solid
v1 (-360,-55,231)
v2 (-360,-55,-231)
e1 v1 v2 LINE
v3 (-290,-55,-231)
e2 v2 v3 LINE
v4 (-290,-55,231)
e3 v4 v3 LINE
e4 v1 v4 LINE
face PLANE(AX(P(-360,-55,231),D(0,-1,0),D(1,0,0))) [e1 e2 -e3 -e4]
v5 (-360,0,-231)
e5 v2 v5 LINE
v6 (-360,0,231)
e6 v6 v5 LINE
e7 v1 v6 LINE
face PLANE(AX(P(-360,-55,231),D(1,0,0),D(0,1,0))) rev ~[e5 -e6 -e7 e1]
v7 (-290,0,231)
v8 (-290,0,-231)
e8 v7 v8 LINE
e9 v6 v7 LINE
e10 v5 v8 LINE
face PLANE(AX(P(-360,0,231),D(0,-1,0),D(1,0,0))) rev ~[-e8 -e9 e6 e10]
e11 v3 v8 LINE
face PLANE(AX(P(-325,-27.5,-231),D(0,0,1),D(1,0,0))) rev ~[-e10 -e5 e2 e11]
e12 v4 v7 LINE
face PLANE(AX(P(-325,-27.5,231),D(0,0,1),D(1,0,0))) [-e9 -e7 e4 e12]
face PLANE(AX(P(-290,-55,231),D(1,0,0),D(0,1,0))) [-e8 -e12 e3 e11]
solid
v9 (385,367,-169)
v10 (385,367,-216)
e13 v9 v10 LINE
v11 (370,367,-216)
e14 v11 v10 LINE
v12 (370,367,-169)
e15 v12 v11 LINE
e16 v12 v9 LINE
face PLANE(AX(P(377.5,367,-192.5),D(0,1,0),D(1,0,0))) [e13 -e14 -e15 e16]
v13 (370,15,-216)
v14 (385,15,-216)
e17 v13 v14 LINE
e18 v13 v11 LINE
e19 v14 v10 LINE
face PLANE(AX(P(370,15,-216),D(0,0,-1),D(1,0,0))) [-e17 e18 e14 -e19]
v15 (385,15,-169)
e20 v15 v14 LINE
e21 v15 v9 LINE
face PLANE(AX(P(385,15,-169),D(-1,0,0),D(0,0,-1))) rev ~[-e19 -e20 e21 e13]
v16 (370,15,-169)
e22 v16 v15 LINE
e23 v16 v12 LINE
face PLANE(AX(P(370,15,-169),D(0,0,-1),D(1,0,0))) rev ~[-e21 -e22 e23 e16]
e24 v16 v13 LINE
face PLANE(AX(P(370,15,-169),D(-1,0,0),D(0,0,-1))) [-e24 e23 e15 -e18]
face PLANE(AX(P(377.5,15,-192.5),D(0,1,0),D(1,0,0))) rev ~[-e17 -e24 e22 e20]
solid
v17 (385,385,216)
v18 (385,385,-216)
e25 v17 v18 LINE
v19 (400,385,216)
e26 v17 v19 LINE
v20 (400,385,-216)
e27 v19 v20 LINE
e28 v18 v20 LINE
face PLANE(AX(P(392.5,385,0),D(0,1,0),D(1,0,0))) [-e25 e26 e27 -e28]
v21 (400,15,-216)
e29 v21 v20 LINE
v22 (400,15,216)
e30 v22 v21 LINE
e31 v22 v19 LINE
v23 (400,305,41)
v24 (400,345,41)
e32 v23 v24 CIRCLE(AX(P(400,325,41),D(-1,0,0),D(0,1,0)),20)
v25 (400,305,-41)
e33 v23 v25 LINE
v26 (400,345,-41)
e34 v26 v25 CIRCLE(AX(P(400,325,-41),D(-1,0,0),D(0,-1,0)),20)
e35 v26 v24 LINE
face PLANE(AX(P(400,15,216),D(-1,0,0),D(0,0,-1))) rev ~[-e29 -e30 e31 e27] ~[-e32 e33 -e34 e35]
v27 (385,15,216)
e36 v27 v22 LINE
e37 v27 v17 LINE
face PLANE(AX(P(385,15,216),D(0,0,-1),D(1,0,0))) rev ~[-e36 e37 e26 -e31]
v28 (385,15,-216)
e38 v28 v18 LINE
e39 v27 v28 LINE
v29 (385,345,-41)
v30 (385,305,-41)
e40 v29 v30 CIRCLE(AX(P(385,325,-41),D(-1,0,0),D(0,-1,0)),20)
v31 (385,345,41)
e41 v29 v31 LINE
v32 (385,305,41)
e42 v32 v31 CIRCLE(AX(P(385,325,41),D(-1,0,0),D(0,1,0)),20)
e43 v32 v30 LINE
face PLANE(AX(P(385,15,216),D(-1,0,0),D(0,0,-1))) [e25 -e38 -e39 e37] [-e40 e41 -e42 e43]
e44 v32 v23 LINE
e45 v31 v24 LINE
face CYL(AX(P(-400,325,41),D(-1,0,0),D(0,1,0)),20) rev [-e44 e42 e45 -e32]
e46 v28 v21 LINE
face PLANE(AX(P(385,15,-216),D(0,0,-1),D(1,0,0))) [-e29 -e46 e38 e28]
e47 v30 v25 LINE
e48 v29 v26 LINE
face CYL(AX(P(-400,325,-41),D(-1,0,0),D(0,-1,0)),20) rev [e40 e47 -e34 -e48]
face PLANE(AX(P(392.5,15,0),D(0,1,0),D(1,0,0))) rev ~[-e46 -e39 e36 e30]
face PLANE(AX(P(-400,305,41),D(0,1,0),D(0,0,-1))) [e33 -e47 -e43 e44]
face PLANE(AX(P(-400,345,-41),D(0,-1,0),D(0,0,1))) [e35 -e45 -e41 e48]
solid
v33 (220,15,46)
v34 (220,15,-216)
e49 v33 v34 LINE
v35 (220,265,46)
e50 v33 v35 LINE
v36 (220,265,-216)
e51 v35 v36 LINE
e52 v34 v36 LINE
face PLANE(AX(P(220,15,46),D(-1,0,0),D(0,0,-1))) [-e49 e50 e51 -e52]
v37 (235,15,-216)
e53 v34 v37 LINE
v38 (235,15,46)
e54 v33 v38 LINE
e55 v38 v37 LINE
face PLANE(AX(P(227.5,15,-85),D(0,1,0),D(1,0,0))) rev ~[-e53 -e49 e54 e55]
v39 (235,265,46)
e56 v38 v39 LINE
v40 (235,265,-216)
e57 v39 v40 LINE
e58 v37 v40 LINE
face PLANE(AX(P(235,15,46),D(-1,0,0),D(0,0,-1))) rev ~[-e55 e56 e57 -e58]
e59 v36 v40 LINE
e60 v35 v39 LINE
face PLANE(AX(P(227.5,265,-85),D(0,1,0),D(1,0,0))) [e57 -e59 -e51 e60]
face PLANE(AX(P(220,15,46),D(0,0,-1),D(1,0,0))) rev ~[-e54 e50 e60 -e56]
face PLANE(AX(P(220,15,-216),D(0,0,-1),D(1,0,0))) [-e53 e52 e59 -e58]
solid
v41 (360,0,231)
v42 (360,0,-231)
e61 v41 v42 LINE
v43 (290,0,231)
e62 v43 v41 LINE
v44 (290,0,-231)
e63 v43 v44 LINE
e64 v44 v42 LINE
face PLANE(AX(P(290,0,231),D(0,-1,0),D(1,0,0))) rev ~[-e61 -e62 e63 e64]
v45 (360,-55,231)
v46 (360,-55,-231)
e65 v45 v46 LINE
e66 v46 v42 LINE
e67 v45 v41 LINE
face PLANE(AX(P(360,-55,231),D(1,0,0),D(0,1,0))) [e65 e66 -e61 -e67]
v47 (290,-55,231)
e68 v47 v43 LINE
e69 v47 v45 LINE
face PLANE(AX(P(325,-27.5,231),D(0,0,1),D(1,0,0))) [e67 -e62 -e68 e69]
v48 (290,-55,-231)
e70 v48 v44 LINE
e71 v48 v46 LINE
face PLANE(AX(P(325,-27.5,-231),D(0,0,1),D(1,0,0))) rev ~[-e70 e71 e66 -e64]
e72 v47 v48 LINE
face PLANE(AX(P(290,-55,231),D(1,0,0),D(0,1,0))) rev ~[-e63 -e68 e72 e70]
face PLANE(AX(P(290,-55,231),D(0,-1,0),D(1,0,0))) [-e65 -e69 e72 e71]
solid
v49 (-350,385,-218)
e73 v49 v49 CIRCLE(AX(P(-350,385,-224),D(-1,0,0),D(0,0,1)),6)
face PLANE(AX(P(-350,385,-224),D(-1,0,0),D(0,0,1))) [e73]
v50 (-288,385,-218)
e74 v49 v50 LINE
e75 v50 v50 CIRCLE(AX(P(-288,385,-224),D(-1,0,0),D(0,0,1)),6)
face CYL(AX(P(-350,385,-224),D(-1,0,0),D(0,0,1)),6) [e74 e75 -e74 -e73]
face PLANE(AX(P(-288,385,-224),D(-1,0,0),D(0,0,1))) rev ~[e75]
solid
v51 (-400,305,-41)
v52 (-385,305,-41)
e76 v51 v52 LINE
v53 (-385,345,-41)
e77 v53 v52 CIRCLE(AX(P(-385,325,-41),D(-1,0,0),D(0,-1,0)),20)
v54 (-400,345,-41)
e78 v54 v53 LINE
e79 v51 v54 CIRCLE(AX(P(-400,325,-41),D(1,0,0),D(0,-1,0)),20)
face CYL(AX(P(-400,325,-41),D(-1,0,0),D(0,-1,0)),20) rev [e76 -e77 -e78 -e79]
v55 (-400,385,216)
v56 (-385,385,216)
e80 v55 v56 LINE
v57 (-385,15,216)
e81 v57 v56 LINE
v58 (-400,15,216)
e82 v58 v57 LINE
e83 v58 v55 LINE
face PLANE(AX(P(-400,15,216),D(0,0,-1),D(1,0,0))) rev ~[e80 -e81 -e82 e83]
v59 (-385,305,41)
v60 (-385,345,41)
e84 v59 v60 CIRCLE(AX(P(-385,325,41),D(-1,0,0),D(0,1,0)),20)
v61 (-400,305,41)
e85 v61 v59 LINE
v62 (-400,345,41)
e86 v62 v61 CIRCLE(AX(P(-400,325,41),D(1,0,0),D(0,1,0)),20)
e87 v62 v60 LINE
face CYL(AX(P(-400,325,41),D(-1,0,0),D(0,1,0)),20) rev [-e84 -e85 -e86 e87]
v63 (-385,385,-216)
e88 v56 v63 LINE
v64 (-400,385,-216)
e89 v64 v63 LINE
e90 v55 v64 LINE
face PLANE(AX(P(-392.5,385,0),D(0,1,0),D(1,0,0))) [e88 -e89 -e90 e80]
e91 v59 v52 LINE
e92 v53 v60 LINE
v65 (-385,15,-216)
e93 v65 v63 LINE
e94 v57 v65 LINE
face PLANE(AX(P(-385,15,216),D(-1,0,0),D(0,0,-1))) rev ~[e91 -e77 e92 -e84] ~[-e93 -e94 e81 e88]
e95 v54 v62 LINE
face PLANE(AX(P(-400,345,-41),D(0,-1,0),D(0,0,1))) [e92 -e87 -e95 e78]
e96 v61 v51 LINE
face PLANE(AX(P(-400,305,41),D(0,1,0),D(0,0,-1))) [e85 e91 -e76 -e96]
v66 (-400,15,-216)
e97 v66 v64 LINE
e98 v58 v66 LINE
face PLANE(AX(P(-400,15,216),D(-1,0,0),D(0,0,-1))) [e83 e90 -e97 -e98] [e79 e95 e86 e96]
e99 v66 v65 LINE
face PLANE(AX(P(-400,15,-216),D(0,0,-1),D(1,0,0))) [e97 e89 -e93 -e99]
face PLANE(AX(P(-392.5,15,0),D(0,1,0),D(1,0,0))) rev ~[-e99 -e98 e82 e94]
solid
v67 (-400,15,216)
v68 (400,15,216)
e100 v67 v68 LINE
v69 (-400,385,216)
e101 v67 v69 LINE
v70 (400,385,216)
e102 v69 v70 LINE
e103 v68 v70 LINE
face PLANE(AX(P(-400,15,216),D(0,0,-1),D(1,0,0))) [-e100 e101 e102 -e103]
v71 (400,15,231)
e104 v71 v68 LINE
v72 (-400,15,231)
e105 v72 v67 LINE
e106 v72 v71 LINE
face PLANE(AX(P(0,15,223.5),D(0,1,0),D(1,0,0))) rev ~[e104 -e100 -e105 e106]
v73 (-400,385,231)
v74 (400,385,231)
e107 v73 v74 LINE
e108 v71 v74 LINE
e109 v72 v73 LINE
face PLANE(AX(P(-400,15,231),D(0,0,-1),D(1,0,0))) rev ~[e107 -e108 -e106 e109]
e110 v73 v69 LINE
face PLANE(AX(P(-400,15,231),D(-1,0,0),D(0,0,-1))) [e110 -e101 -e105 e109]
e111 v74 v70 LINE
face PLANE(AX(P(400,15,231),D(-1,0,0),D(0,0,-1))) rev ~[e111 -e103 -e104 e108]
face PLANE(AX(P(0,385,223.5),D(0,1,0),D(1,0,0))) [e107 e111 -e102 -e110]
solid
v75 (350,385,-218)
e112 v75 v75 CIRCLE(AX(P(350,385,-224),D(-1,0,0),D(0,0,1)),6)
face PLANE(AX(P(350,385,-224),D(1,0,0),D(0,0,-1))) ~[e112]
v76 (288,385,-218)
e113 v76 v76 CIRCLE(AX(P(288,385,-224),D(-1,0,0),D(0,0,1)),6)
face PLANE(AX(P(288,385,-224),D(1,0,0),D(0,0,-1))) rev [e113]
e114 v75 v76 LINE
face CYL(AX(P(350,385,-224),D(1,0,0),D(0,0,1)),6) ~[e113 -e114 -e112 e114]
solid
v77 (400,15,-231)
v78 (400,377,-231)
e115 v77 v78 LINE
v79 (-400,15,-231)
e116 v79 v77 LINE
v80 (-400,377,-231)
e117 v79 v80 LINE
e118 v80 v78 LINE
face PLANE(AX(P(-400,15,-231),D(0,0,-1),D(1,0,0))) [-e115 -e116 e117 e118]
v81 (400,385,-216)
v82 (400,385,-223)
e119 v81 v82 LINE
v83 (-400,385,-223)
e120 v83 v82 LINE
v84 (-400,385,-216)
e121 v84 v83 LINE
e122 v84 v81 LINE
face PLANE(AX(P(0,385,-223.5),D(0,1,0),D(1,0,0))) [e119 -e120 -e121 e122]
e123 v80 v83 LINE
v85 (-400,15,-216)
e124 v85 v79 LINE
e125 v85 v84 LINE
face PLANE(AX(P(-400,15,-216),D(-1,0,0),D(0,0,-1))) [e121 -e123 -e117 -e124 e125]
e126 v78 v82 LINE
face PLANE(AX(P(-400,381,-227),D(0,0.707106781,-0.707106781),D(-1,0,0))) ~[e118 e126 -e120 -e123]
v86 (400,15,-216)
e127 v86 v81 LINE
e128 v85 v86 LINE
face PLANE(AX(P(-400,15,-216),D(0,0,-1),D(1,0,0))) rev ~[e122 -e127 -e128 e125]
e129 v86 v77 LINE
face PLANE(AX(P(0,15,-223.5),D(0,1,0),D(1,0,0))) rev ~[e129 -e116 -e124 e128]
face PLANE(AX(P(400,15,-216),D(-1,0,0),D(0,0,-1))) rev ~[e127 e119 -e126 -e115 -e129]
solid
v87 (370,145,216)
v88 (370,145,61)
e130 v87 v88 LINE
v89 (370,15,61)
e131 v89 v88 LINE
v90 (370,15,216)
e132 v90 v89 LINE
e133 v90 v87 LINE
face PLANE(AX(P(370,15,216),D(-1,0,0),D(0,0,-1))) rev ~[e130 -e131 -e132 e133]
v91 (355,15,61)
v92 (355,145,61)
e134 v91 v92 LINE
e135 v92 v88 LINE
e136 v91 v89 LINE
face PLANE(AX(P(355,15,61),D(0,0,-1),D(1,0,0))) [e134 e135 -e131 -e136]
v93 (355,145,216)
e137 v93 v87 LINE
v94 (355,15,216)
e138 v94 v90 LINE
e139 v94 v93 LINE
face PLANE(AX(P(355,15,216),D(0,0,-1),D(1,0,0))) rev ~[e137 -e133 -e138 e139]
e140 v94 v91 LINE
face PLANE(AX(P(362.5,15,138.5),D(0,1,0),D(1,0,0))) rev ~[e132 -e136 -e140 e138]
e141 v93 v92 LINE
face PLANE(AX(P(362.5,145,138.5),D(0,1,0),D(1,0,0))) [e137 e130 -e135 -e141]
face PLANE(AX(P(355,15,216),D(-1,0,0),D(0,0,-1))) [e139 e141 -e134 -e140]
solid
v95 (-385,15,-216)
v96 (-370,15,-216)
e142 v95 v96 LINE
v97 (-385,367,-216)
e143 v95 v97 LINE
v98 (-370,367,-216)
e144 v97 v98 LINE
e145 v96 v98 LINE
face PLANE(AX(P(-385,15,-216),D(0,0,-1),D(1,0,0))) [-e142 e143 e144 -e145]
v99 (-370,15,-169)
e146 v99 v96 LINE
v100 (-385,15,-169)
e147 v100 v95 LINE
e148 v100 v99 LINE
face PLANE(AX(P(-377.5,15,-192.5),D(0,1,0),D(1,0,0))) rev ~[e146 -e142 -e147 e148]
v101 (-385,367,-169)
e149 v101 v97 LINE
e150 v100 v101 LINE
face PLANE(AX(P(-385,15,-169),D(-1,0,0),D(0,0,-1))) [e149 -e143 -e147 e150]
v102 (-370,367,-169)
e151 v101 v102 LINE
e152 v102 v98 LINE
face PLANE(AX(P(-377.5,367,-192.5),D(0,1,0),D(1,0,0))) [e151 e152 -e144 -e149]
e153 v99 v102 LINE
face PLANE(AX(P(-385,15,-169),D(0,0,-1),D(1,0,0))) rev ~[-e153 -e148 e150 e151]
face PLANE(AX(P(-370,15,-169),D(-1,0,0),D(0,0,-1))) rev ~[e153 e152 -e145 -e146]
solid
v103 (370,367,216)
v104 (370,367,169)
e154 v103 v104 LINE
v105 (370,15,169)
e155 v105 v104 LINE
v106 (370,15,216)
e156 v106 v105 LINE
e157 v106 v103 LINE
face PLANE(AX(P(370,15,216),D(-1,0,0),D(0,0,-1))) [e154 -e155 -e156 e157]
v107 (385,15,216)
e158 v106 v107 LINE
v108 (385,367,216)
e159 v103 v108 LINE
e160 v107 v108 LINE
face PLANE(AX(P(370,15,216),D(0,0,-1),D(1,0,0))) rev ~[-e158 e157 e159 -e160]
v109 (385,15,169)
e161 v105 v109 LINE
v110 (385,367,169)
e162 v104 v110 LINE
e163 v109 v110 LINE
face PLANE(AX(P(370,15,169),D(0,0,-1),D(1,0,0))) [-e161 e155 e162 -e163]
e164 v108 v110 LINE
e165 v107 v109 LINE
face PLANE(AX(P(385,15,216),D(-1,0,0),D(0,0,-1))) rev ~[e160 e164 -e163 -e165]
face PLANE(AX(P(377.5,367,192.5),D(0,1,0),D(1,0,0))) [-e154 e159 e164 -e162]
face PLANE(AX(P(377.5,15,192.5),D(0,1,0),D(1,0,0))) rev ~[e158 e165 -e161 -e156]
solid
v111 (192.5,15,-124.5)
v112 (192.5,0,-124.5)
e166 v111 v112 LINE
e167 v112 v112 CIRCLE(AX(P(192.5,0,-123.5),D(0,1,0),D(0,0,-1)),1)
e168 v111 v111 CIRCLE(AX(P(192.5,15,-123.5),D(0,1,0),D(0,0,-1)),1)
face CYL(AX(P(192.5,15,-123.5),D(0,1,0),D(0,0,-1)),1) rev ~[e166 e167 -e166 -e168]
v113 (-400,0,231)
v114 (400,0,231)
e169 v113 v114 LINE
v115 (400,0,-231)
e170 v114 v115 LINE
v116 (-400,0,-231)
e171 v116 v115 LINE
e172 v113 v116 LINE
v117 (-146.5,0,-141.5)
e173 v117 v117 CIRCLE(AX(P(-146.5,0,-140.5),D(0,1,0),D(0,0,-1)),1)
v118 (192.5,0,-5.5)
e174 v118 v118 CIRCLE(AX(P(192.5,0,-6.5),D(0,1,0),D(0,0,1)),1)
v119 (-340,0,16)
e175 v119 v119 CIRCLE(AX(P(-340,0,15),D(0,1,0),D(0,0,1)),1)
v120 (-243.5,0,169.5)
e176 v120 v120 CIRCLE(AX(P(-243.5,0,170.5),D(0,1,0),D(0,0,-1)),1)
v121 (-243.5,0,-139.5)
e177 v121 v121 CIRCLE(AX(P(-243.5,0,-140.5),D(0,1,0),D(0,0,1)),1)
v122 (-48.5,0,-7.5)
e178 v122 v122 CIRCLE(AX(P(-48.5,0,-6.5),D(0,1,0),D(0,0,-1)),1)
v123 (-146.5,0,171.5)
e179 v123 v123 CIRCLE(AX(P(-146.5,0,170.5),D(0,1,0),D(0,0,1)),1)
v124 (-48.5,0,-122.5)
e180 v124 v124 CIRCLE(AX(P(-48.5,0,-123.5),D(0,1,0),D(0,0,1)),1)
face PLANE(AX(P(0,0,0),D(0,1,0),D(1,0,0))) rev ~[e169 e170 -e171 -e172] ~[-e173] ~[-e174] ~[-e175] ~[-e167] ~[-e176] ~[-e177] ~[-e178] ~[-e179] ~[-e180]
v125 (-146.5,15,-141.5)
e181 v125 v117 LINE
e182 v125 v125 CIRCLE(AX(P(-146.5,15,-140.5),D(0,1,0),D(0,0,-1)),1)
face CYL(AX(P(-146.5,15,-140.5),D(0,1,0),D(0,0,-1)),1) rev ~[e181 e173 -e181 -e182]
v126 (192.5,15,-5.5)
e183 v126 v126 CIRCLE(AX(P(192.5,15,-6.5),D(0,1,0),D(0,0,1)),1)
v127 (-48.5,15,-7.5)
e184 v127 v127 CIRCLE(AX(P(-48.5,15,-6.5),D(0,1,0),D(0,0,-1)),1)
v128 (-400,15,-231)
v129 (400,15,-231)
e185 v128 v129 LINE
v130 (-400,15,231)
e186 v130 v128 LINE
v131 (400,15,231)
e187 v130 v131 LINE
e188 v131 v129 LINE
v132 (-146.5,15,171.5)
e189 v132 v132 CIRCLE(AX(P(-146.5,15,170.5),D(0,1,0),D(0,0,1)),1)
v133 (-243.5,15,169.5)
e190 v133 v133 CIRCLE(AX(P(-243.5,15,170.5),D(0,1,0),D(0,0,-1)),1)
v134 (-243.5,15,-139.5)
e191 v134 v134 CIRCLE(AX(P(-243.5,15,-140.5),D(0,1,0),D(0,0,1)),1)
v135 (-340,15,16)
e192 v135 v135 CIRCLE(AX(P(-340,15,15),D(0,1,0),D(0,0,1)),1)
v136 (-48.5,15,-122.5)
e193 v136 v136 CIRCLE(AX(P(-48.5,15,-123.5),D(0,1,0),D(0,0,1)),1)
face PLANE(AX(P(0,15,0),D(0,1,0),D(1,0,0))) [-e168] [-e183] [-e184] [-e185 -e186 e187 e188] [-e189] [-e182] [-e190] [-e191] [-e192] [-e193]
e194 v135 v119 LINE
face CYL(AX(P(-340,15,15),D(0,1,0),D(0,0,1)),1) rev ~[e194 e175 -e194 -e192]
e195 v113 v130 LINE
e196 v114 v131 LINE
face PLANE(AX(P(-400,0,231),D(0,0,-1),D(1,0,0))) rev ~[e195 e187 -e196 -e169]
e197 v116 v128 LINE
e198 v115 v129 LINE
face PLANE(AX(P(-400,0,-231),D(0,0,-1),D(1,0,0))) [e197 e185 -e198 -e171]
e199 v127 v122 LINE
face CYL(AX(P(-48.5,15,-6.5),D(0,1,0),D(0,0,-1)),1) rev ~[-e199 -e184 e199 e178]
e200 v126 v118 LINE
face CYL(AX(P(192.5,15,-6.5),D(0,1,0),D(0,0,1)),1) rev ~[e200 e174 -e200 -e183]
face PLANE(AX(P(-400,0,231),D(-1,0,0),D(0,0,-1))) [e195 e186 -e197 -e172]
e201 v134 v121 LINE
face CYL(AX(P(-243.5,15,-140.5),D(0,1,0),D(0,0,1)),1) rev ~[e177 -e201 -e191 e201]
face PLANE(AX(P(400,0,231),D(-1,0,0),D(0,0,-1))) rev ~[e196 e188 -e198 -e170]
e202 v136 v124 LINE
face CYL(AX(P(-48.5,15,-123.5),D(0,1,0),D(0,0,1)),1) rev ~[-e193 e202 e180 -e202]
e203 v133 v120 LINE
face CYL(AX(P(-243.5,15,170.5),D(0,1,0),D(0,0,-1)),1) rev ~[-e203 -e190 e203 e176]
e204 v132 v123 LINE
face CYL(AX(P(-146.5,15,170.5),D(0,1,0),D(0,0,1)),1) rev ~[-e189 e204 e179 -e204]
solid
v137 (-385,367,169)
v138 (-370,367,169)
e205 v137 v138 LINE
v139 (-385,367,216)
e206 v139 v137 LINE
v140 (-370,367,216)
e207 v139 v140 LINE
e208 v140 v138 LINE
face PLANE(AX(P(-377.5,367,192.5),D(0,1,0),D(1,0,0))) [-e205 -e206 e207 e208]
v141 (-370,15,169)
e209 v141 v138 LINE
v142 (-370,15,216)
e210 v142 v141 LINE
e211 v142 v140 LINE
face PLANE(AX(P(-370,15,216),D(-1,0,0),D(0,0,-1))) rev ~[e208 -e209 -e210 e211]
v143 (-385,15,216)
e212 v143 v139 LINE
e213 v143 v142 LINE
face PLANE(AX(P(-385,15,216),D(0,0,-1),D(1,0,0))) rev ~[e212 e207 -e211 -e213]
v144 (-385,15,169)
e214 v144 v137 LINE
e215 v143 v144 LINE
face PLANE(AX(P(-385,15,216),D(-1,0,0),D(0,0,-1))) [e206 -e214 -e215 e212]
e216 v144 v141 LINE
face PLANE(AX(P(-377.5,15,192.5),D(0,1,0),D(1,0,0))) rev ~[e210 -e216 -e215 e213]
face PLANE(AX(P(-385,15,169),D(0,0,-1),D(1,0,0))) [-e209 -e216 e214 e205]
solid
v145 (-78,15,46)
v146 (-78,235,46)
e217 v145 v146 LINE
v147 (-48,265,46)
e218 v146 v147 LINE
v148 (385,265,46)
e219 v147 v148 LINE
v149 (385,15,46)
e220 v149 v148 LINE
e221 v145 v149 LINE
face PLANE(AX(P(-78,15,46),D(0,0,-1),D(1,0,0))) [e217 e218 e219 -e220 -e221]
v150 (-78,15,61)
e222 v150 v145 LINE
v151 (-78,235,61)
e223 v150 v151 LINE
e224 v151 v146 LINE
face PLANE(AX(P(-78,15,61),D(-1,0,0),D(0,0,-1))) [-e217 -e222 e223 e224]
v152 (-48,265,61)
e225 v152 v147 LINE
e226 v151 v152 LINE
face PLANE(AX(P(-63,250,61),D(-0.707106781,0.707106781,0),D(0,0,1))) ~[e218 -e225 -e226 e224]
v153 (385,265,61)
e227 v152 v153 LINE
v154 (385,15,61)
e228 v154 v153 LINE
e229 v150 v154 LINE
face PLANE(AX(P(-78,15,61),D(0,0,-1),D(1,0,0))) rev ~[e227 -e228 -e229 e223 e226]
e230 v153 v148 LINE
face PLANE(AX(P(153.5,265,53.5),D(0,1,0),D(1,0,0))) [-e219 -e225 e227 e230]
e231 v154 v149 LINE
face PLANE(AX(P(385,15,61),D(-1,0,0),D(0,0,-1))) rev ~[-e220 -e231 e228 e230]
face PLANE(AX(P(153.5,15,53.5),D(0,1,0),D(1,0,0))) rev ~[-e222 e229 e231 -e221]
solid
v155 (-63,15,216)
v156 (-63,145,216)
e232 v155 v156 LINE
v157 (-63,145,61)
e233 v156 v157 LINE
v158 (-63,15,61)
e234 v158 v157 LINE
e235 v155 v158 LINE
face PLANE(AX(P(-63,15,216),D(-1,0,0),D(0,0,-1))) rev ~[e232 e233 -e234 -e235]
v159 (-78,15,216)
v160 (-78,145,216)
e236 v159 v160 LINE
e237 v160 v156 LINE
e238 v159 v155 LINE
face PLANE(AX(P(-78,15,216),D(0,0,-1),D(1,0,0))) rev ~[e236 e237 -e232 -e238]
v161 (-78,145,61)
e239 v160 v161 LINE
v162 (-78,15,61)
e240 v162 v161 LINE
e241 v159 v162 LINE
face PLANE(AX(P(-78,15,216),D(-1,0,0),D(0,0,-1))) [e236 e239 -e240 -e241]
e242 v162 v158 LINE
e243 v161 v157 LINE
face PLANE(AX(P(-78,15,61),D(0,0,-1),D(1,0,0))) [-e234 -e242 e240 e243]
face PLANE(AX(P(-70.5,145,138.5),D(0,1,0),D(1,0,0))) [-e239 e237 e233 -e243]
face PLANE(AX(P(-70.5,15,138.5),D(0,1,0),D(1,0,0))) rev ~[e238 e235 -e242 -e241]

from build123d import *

# Parameters (mm, degrees)
ESQUISSE1_W             = 800
ESQUISSE1_H             = 462
BOSS_EXTRU_1_DEPTH      = 15
ESQUISSE2_W             = 70
ESQUISSE2_H             = 55
BOSS_EXTRU_2_DEPTH      = 462
BOSS_EXTRU_2_2_DEPTH    = 462
ESQUISSE3_W             = 800
ESQUISSE3_H             = 15
BOSS_EXTRU_3_DEPTH      = 370
BOSS_EXTRU_3_2_DEPTH    = 370
ESQUISSE4_W             = 15
ESQUISSE4_H             = 432
BOSS_EXTRU_4_DEPTH      = 370
BOSS_EXTRU_4_2_DEPTH    = 370
ESQUISSE5_W             = 15
ESQUISSE5_H             = 47
BOSS_EXTRU_5_DEPTH      = 352
BOSS_EXTRU_5_2_DEPTH    = 352
BOSS_EXTRU_5_3_DEPTH    = 352
BOSS_EXTRU_5_4_DEPTH    = 352
ENL_V_MAT_EXTRU_1_DEPTH = 918.3799649
BOSS_EXTRU_7_START      = -50
ESQUISSE8_R             = 6
BOSS_EXTRU_7_DEPTH      = 62
CHANFREIN1_SIZE         = 8
ESQUISSE9_W             = 15
ESQUISSE9_H             = 155
BOSS_EXTRU_8_DEPTH      = 130
BOSS_EXTRU_8_2_DEPTH    = 130
ESQUISSE10_W            = 463
ESQUISSE10_H            = 15
BOSS_EXTRU_9_DEPTH      = 250
ESQUISSE11_W            = 15
ESQUISSE11_H            = 262
BOSS_EXTRU_10_DEPTH     = 250
CHANFREIN2_SIZE         = 30
ESQUISSE12_R            = 1
ENL_V_MAT_EXTRU_2_DEPTH = 15


with BuildPart() as part:
    # Esquisse1 → Boss.-Extru.1 (new body)
    with BuildSketch(Plane(origin=(0, 0, 0), x_dir=(1, 0, 0), z_dir=(0, 1, 0))):
        Rectangle(ESQUISSE1_W, ESQUISSE1_H)
    extrude(amount=BOSS_EXTRU_1_DEPTH)

    # Esquisse12 → Enlèv. mat.-Extru.2 (cut)
    with BuildSketch(Plane(origin=(0, 15, 0), x_dir=(1, 0, 0), z_dir=(0, 1, 0))):
        with Locations(Location((-243.5, 140.5, 0), (0, 0, 270))):
            Circle(ESQUISSE12_R)
        with Locations(Location((-48.5, 123.5, 0), (0, 0, 270))):
            Circle(ESQUISSE12_R)
        with Locations(Location((-146.5, 140.5, 0), (0, 0, 90))):
            Circle(ESQUISSE12_R)
        with Locations(Location((192.5, 123.5, 0), (0, 0, 90))):
            Circle(ESQUISSE12_R)
        with Locations(Location((-48.5, 6.5, 0), (0, 0, 90))):
            Circle(ESQUISSE12_R)
        with Locations(Location((192.5, 6.5, 0), (0, 0, 270))):
            Circle(ESQUISSE12_R)
        with Locations(Location((-243.5, -170.5, 0), (0, 0, 90))):
            Circle(ESQUISSE12_R)
        with Locations(Location((-146.5, -170.5, 0), (0, 0, 270))):
            Circle(ESQUISSE12_R)
        with Locations(Location((-340, -15, 0), (0, 0, 270))):
            Circle(ESQUISSE12_R)
    extrude(amount=-ENL_V_MAT_EXTRU_2_DEPTH, mode=Mode.SUBTRACT)


with BuildPart() as body_2:
    # Esquisse2 → Boss.-Extru.2 (new body)
    with BuildSketch(Plane.XY.offset(231)):
        with Locations((-325, -27.5)):
            Rectangle(ESQUISSE2_W, ESQUISSE2_H)
    extrude(amount=-BOSS_EXTRU_2_DEPTH)


with BuildPart() as body_3:
    # Esquisse2 → Boss.-Extru.2 2 (new body)
    with BuildSketch(Plane.XY.offset(231)):
        with Locations((325, -27.5)):
            Rectangle(ESQUISSE2_W, ESQUISSE2_H)
    extrude(amount=-BOSS_EXTRU_2_2_DEPTH)


with BuildPart() as body_4:
    # Esquisse3 → Boss.-Extru.3 (new body)
    with BuildSketch(Plane(origin=(0, 15, 0), x_dir=(1, 0, 0), z_dir=(0, 1, 0))):
        with Locations((0, 223.5)):
            Rectangle(ESQUISSE3_W, ESQUISSE3_H)
    extrude(amount=BOSS_EXTRU_3_DEPTH)

    # Chanfrein1
    chanfrein1_edges = [body_4.edges().sort_by_distance(p)[0] for p in [
        (0, 385, -231),
    ]]
    chamfer(chanfrein1_edges, length=CHANFREIN1_SIZE)


with BuildPart() as body_5:
    # Esquisse3 → Boss.-Extru.3 2 (new body)
    with BuildSketch(Plane(origin=(0, 15, 0), x_dir=(1, 0, 0), z_dir=(0, 1, 0))):
        with Locations((0, -223.5)):
            Rectangle(ESQUISSE3_W, ESQUISSE3_H)
    extrude(amount=BOSS_EXTRU_3_2_DEPTH)


with BuildPart() as body_6:
    # Esquisse4 → Boss.-Extru.4 (new body)
    with BuildSketch(Plane(origin=(0, 15, 0), x_dir=(1, 0, 0), z_dir=(0, 1, 0))):
        with Locations((-392.5, 0)):
            Rectangle(ESQUISSE4_W, ESQUISSE4_H)
    extrude(amount=BOSS_EXTRU_4_DEPTH)


with BuildPart() as body_7:
    # Esquisse4 → Boss.-Extru.4 2 (new body)
    with BuildSketch(Plane(origin=(0, 15, 0), x_dir=(1, 0, 0), z_dir=(0, 1, 0))):
        with Locations((392.5, 0)):
            Rectangle(ESQUISSE4_W, ESQUISSE4_H)
    extrude(amount=BOSS_EXTRU_4_2_DEPTH)


with BuildPart() as body_8:
    # Esquisse5 → Boss.-Extru.5 (new body)
    with BuildSketch(Plane(origin=(0, 15, 0), x_dir=(1, 0, 0), z_dir=(0, 1, 0))):
        with Locations((-377.5, 192.5)):
            Rectangle(ESQUISSE5_W, ESQUISSE5_H)
    extrude(amount=BOSS_EXTRU_5_DEPTH)


with BuildPart() as body_9:
    # Esquisse5 → Boss.-Extru.5 2 (new body)
    with BuildSketch(Plane(origin=(0, 15, 0), x_dir=(1, 0, 0), z_dir=(0, 1, 0))):
        with Locations((-377.5, -192.5)):
            Rectangle(ESQUISSE5_W, ESQUISSE5_H)
    extrude(amount=BOSS_EXTRU_5_2_DEPTH)


with BuildPart() as body_10:
    # Esquisse5 → Boss.-Extru.5 3 (new body)
    with BuildSketch(Plane(origin=(0, 15, 0), x_dir=(1, 0, 0), z_dir=(0, 1, 0))):
        with Locations((377.5, -192.5)):
            Rectangle(ESQUISSE5_W, ESQUISSE5_H)
    extrude(amount=BOSS_EXTRU_5_3_DEPTH)


with BuildPart() as body_11:
    # Esquisse5 → Boss.-Extru.5 4 (new body)
    with BuildSketch(Plane(origin=(0, 15, 0), x_dir=(1, 0, 0), z_dir=(0, 1, 0))):
        with Locations((377.5, 192.5)):
            Rectangle(ESQUISSE5_W, ESQUISSE5_H)
    extrude(amount=BOSS_EXTRU_5_4_DEPTH)


with BuildPart() as enl_v_mat_extru_1_tool:
    # Esquisse6 → Enlèv. mat.-Extru.1 (new, through all)
    with BuildSketch(Plane.ZY.offset(400)):
        with BuildLine():
            Line((-41, 345), (41, 345))
            ThreePointArc((41, 345), (61, 325), (41, 305))
            Line((41, 305), (-41, 305))
            ThreePointArc((-41, 305), (-61, 325), (-41, 345))
        make_face()
    extrude(amount=-ENL_V_MAT_EXTRU_1_DEPTH)


with BuildPart() as body_6_1:
    add(body_6.part)

    # Enlèv. mat.-Extru.1: cut by enl_v_mat_extru_1_tool
    add(enl_v_mat_extru_1_tool.part, mode=Mode.SUBTRACT)


with BuildPart() as body_7_1:
    add(body_7.part)

    # Enlèv. mat.-Extru.1: cut by enl_v_mat_extru_1_tool
    add(enl_v_mat_extru_1_tool.part, mode=Mode.SUBTRACT)


with BuildPart() as body_12:
    # Esquisse8 → Boss.-Extru.7 (new body)
    with BuildSketch(Plane.ZY.offset(400).offset(BOSS_EXTRU_7_START)):
        with Locations((-224, 385)):
            Circle(ESQUISSE8_R)
    extrude(amount=-BOSS_EXTRU_7_DEPTH)


with BuildPart() as body_13:
    # Symétrie3: mirrored copy
    add(body_12.part.mirror(Plane(origin=(0, 0, 0), x_dir=(0, 0, 1), z_dir=(1, 0, 0))))


with BuildPart() as body_14:
    # Esquisse9 → Boss.-Extru.8 (new body)
    with BuildSketch(Plane(origin=(0, 15, 0), x_dir=(1, 0, 0), z_dir=(0, 1, 0))):
        with Locations((-70.5, -138.5)):
            Rectangle(ESQUISSE9_W, ESQUISSE9_H)
    extrude(amount=BOSS_EXTRU_8_DEPTH)


with BuildPart() as body_15:
    # Esquisse9 → Boss.-Extru.8 2 (new body)
    with BuildSketch(Plane(origin=(0, 15, 0), x_dir=(1, 0, 0), z_dir=(0, 1, 0))):
        with Locations((362.5, -138.5)):
            Rectangle(ESQUISSE9_W, ESQUISSE9_H)
    extrude(amount=BOSS_EXTRU_8_2_DEPTH)


with BuildPart() as body_16:
    # Esquisse10 → Boss.-Extru.9 (new body)
    with BuildSketch(Plane(origin=(0, 15, 0), x_dir=(1, 0, 0), z_dir=(0, 1, 0))):
        with Locations((153.5, -53.5)):
            Rectangle(ESQUISSE10_W, ESQUISSE10_H)
    extrude(amount=BOSS_EXTRU_9_DEPTH)

    # Chanfrein2
    chanfrein2_edges = [body_16.edges().sort_by_distance(p)[0] for p in [
        (-78, 265, 53.5),
    ]]
    chamfer(chanfrein2_edges, length=CHANFREIN2_SIZE)


with BuildPart() as body_17:
    # Esquisse11 → Boss.-Extru.10 (new body)
    with BuildSketch(Plane(origin=(0, 15, 0), x_dir=(1, 0, 0), z_dir=(0, 1, 0))):
        with Locations((227.5, 85)):
            Rectangle(ESQUISSE11_W, ESQUISSE11_H)
    extrude(amount=BOSS_EXTRU_10_DEPTH)


solid = Compound([part.part, body_2.part, body_3.part, body_4.part, body_5.part, body_8.part, body_9.part, body_10.part, body_11.part, body_6_1.part, body_7_1.part, body_12.part, body_13.part, body_14.part, body_15.part, body_16.part, body_17.part])
